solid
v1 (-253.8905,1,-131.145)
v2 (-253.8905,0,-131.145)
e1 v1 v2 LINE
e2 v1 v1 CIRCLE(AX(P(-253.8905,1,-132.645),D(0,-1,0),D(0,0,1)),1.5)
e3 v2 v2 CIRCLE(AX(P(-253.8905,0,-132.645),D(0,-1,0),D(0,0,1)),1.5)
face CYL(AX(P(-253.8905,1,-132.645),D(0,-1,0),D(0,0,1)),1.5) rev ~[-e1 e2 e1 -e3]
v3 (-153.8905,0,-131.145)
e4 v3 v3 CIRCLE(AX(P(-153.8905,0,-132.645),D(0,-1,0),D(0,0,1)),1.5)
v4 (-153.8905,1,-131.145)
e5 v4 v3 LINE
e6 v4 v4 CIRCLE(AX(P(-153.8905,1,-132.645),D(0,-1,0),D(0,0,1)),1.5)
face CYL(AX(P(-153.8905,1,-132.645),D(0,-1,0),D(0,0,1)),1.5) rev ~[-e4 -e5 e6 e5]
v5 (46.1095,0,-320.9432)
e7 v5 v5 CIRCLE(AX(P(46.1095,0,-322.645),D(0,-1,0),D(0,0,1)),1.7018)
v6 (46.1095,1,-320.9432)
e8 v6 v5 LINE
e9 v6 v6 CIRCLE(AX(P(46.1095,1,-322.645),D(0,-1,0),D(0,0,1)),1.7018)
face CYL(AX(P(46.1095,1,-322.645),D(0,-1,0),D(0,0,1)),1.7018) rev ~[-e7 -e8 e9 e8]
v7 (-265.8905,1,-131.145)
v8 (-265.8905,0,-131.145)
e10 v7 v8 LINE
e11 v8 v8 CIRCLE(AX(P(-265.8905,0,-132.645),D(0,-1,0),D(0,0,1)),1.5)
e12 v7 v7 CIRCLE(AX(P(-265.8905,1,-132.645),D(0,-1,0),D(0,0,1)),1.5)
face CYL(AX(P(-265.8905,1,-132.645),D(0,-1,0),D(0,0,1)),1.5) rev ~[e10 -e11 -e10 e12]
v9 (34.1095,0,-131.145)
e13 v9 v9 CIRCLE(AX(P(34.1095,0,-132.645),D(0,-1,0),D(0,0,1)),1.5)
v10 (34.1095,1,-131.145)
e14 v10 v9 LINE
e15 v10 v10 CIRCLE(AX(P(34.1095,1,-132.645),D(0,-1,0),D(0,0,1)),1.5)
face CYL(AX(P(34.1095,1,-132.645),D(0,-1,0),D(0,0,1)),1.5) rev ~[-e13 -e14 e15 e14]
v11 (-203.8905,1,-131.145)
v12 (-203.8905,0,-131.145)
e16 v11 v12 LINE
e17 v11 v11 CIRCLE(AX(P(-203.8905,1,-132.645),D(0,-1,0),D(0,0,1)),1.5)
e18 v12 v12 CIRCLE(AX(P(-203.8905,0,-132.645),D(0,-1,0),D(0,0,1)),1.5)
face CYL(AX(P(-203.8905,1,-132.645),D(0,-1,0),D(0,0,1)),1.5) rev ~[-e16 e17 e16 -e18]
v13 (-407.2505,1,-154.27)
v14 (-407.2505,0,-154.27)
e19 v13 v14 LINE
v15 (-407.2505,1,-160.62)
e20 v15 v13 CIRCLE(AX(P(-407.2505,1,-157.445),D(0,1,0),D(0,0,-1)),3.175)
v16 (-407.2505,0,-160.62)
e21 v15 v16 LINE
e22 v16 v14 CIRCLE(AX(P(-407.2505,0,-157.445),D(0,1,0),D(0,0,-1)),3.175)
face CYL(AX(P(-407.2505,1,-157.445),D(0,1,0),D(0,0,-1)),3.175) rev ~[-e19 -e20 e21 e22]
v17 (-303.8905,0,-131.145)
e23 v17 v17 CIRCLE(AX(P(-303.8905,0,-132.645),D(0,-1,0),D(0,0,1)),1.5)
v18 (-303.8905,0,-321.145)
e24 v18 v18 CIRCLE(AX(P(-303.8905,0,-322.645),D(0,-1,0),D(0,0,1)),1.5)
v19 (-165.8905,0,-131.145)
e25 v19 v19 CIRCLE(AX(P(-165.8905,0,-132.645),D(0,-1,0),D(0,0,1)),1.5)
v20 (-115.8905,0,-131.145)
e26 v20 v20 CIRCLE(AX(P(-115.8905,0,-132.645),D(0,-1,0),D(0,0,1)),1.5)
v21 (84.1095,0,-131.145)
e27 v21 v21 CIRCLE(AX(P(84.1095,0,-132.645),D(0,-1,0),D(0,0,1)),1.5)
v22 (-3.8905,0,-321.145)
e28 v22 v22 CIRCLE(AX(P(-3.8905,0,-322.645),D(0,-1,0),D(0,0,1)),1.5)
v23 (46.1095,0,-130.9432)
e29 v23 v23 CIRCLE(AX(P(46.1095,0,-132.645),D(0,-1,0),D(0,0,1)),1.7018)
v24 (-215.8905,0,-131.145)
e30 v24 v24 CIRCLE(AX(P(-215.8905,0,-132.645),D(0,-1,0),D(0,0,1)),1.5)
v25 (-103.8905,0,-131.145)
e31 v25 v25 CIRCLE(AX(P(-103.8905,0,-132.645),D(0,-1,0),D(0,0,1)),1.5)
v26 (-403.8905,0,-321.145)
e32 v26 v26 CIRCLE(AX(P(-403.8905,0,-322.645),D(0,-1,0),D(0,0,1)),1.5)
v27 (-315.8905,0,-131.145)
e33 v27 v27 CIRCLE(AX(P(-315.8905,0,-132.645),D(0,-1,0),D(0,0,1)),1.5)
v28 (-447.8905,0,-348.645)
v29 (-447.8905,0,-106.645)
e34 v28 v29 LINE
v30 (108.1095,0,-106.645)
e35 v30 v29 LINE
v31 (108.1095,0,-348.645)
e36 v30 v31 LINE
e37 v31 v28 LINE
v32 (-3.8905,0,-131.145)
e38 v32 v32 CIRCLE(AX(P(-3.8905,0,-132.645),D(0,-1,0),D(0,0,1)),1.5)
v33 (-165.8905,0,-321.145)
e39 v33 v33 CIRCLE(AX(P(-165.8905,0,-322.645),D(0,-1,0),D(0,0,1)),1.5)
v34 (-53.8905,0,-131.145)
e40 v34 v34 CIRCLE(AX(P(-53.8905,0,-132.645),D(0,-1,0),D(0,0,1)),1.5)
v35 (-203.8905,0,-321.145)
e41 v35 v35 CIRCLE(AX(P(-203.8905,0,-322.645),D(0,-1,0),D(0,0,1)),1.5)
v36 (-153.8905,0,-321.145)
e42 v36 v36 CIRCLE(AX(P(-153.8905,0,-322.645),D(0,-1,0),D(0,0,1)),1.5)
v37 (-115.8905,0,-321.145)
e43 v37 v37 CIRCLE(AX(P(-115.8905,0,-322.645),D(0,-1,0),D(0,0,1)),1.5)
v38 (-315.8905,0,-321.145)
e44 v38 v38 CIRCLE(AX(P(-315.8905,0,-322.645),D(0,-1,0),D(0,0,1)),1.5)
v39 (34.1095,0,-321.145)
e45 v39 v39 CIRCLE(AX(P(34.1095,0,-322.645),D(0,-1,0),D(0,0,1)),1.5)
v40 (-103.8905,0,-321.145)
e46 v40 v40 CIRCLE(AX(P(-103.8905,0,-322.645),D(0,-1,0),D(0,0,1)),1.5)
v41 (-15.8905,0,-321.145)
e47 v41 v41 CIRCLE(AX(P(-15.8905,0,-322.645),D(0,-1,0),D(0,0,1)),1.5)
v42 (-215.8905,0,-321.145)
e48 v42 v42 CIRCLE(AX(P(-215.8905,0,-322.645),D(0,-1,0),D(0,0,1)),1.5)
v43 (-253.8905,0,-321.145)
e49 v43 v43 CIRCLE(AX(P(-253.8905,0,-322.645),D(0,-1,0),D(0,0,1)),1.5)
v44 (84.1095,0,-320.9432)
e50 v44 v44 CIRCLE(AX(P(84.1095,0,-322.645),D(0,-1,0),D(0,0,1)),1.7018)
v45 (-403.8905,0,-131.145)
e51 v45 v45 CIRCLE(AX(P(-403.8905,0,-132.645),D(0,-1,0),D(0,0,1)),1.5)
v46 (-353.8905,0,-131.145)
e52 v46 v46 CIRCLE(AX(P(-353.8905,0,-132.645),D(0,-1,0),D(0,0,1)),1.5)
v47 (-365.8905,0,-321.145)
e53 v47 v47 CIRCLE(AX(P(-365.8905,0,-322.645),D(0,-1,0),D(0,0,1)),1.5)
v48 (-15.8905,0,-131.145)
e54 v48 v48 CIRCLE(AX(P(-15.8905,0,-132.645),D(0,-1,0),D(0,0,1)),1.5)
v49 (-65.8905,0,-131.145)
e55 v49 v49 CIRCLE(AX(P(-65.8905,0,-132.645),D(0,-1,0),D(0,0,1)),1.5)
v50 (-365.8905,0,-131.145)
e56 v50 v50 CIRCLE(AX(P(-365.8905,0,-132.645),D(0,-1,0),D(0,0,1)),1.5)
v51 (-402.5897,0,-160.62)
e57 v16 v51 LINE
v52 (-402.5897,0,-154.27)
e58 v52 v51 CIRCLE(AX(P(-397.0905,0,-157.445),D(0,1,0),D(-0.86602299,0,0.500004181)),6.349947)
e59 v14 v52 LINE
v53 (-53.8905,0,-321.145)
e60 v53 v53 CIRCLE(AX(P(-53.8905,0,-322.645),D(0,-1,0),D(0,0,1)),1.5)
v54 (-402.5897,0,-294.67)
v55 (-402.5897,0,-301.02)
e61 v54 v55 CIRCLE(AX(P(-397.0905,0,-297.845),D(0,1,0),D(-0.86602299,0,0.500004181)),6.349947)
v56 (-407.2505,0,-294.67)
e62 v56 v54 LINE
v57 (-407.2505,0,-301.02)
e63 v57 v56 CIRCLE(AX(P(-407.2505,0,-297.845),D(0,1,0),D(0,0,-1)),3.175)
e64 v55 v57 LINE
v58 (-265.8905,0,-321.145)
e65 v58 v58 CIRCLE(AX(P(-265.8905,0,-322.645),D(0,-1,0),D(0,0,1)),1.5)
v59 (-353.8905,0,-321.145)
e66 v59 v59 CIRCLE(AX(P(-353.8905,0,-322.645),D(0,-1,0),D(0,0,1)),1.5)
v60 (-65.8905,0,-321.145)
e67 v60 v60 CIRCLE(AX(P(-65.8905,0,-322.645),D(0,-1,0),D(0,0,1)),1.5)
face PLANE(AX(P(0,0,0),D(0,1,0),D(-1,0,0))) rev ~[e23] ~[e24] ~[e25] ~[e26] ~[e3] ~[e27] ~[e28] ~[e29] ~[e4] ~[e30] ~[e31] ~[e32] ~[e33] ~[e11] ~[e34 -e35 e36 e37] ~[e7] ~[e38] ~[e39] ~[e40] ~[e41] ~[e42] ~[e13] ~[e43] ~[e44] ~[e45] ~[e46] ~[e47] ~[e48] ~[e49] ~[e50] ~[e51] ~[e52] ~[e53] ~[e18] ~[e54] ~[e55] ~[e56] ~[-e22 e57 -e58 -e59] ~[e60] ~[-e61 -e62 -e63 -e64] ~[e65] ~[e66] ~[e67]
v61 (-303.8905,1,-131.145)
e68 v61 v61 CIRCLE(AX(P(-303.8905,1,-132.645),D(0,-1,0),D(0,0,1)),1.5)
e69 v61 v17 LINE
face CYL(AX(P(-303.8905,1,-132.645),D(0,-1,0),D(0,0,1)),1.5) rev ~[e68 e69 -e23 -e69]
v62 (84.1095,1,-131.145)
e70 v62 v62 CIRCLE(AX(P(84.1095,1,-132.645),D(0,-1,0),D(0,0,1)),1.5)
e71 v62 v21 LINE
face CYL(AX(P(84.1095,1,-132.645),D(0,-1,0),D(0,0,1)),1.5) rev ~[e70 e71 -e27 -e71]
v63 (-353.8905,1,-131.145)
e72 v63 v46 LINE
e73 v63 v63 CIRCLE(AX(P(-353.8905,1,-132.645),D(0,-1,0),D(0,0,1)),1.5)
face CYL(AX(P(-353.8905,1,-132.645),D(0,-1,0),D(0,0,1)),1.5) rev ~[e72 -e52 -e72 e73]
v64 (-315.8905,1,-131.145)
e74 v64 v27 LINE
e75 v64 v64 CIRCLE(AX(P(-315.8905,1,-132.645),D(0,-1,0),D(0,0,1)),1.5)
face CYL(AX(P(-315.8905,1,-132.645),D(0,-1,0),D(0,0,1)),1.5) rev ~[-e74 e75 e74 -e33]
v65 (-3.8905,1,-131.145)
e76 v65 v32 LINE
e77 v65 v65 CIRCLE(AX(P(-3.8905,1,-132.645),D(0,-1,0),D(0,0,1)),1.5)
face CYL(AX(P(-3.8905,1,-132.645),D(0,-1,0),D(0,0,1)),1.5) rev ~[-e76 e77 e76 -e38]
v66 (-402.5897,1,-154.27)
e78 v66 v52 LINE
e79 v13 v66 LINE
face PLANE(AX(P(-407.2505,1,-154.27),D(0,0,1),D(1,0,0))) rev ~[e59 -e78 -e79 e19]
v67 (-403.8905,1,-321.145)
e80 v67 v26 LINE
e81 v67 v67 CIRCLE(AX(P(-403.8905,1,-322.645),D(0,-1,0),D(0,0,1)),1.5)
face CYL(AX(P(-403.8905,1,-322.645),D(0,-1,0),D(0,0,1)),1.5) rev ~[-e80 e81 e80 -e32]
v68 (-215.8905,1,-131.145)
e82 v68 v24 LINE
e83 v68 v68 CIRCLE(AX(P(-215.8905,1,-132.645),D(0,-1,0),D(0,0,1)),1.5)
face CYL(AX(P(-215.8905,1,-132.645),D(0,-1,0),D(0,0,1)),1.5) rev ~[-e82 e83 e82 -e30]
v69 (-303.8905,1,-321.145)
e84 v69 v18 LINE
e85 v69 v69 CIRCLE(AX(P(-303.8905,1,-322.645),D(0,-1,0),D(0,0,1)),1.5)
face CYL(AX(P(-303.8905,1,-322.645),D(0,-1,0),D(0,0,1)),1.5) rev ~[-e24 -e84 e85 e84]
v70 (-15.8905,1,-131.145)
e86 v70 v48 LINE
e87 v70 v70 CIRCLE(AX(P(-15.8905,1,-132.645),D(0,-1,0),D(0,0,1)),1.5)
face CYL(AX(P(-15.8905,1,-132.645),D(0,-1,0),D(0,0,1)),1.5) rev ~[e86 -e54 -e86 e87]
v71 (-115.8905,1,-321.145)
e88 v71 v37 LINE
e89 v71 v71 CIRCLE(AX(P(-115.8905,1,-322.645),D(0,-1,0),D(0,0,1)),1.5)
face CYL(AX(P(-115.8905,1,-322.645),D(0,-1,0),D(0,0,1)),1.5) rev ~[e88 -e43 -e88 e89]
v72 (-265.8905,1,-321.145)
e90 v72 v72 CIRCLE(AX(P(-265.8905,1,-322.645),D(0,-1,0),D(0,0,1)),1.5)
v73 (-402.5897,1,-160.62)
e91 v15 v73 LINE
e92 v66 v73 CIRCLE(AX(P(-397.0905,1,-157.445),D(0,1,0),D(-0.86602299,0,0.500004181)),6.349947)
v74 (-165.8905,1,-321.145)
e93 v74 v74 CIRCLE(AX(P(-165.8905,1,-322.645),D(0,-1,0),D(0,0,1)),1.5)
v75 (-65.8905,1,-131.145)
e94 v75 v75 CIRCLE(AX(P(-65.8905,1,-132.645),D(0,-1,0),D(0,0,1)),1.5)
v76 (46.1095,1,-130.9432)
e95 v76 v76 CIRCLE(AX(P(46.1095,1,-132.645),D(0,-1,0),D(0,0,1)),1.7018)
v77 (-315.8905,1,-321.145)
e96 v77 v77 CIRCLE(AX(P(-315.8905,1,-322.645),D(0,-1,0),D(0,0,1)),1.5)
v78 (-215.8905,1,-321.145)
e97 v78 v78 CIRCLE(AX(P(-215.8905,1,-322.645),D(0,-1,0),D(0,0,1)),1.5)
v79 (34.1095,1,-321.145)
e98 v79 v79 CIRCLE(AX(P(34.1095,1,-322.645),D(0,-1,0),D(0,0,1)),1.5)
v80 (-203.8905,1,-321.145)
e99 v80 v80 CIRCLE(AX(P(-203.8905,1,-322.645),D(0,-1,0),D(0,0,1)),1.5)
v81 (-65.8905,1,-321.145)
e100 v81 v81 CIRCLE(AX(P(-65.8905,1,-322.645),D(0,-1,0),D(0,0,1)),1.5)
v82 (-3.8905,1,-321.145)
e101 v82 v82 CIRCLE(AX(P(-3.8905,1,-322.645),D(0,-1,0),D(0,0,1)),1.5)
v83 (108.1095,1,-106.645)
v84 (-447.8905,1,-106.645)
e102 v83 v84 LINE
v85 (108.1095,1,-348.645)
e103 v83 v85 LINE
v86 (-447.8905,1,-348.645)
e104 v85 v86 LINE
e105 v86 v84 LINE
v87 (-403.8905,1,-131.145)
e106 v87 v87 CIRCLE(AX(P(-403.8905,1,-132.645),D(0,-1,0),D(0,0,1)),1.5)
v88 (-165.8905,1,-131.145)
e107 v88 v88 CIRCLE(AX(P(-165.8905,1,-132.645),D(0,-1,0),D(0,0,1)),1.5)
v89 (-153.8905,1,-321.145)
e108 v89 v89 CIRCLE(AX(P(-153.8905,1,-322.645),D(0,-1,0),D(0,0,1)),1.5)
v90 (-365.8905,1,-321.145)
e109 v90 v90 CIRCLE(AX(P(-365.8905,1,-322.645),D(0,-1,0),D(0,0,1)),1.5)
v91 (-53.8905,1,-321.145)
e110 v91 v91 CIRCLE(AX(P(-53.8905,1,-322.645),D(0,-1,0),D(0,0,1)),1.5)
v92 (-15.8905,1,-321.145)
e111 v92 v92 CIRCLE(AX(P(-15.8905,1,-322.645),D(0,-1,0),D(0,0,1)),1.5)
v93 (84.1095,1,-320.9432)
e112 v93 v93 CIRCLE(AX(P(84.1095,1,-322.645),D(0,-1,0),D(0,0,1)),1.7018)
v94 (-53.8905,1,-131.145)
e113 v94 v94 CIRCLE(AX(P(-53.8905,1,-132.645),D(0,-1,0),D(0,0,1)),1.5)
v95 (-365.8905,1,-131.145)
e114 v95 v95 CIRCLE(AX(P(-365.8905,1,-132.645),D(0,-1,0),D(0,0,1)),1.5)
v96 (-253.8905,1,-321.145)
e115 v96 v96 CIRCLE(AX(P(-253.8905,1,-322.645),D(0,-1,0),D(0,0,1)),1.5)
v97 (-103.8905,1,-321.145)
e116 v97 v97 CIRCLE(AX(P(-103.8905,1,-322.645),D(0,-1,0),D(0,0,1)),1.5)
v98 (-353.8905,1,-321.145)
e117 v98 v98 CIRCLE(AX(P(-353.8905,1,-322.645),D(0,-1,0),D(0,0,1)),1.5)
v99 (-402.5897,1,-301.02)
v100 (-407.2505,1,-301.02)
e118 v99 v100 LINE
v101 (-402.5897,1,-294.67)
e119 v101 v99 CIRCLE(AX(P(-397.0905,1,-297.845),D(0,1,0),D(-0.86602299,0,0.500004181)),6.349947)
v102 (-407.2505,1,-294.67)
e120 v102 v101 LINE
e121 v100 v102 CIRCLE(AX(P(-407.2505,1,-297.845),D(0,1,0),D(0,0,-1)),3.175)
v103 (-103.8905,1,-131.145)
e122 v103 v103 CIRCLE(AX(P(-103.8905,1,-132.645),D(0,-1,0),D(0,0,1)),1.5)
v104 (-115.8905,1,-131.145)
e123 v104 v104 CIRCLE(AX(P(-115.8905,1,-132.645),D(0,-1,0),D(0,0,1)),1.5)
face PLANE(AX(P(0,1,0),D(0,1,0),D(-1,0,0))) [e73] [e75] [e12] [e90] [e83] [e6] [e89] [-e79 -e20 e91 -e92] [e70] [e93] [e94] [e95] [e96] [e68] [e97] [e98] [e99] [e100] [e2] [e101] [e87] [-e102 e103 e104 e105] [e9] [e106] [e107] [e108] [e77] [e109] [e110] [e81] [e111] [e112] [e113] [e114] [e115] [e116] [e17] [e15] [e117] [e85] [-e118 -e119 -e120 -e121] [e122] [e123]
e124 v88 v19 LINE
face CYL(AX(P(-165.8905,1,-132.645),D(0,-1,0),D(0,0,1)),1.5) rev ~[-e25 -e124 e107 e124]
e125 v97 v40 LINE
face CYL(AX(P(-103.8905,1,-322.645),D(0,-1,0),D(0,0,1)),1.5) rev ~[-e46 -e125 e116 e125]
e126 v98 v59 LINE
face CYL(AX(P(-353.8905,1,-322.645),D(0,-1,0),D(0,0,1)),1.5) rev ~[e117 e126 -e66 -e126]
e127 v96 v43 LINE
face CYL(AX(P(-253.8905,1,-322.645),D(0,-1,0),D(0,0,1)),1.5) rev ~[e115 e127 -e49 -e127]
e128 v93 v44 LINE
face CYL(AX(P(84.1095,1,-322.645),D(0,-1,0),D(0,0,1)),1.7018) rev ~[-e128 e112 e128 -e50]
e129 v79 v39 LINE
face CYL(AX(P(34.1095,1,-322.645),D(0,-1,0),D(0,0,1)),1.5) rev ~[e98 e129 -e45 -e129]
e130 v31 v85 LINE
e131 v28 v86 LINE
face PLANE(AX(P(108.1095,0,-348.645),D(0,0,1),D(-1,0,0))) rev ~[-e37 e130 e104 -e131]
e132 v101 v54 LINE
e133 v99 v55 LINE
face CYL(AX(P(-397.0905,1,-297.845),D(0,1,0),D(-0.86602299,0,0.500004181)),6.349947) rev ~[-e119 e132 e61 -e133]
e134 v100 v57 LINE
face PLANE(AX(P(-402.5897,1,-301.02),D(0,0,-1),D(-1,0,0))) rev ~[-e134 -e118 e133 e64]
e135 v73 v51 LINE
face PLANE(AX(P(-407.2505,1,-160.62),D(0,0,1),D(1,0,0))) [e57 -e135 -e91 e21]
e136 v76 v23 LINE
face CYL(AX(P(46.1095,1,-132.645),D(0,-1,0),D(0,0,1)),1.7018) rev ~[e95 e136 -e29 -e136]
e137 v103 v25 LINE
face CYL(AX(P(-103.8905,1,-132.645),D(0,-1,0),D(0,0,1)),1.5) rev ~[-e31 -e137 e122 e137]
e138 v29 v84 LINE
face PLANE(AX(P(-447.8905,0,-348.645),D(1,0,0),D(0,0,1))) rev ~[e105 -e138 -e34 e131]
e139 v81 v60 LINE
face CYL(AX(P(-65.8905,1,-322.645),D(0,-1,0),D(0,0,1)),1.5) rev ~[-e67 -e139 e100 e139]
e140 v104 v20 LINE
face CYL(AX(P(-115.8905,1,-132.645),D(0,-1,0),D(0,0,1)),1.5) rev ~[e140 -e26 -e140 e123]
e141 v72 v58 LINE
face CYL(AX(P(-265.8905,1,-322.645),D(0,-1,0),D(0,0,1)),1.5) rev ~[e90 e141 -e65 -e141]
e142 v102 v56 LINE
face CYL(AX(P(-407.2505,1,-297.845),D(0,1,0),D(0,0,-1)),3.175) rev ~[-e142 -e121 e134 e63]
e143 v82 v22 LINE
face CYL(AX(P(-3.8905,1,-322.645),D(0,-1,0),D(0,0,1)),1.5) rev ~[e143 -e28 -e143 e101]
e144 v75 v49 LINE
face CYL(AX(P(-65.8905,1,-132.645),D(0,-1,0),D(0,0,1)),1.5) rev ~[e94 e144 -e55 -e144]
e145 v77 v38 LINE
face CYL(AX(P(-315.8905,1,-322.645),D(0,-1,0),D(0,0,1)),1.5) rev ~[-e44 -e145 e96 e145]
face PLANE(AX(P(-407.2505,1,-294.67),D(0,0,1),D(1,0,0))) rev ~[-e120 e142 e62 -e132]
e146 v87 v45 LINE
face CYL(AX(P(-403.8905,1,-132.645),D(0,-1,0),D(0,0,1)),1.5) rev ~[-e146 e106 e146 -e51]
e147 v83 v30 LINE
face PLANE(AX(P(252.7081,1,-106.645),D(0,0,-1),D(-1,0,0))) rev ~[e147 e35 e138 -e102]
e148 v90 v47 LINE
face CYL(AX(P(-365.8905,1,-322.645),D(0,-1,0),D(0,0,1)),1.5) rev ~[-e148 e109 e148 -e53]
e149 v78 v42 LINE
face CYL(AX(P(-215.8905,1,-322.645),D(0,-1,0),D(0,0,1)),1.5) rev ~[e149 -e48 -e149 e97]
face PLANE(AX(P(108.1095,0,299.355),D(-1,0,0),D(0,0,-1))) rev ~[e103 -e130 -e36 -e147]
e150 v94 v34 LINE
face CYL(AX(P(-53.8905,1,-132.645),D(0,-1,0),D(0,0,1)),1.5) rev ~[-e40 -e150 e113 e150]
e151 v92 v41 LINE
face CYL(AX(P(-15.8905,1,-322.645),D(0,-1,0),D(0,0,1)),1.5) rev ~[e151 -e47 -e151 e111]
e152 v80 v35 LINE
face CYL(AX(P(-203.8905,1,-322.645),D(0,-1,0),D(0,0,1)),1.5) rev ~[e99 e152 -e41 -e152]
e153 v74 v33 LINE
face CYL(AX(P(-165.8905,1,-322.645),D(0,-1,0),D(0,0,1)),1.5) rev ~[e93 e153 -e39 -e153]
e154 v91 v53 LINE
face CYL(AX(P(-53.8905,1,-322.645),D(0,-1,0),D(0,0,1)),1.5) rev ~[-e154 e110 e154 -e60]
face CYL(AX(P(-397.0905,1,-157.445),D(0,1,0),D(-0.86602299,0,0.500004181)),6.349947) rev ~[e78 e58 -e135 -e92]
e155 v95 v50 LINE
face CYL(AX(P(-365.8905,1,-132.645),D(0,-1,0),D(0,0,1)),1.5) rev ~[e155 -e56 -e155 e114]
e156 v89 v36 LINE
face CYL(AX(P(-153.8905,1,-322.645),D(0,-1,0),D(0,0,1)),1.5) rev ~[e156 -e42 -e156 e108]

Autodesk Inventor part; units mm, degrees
ref_plane "YZ Plane" through (0, 0, 0) normal (1, 0, 0) x (0, 1, 0)
ref_plane "XZ Plane" through (0, 0, 0) normal (0, 1, 0) x (-1, 0, 0)
ref_plane "XY Plane" through (0, 0, 0) normal (0, 0, 1) x (1, 0, 0)
sketch "Sketch3" plane through (0, 0, 0) normal (0, 1, 0) x (-1, 0, 0)
  line L0 (447.8905, 299.355) -> (-108.1095, 299.355)
  line L1 (-108.1095, 299.355) -> (-108.1095, -348.645)
  line L2 (-108.1095, -348.645) -> (447.8905, -348.645)
  line L3 (447.8905, -348.645) -> (447.8905, 299.355)
  point P0 (0, 0)
  dimension "d19" = 648
  dimension "d20" = 556
extrude "Extrusion2" add sketch "Sketch3" along normal blind 1
sketch "Sketch4" plane through (0, 1, 0) normal (0, 1, 0) x (1, 0, 0)
  line L0 (108.1095, 348.645) -> (-447.8905, 348.645) projected
  line L1 (108.1095, -299.355) -> (108.1095, 348.645) projected
  point P0 (84.1095, 132.645)
  point P1 (34.1095, 322.645)
  point P2 (-3.8905, 322.645)
  point P3 (-3.8905, 132.645)
  point P4 (34.1095, 132.645)
  point P5 (-15.8905, 322.645)
  point P6 (-53.8905, 322.645)
  point P7 (-53.8905, 132.645)
  point P8 (-15.8905, 132.645)
  point P9 (-65.8905, 132.645)
  point P10 (-103.8905, 132.645)
  point P11 (-103.8905, 322.645)
  point P12 (-65.8905, 322.645)
  point P13 (-115.8905, 322.645)
  point P14 (-153.8905, 322.645)
  point P15 (-153.8905, 132.645)
  point P16 (-115.8905, 132.645)
  point P17 (-165.8905, 132.645)
  point P18 (-203.8905, 132.645)
  point P19 (-203.8905, 322.645)
  point P20 (-165.8905, 322.645)
  point P21 (-265.8905, 322.645)
  point P22 (-303.8905, 322.645)
  point P23 (-303.8905, 132.645)
  point P24 (-265.8905, 132.645)
  point P25 (-215.8905, 132.645)
  point P26 (-253.8905, 132.645)
  point P27 (-253.8905, 322.645)
  point P28 (-215.8905, 322.645)
  point P29 (-315.8905, 322.645)
  point P30 (-353.8905, 322.645)
  point P31 (-353.8905, 132.645)
  point P32 (-315.8905, 132.645)
  point P33 (-365.8905, 132.645)
  point P34 (-403.8905, 132.645)
  point P35 (-403.8905, 322.645)
  point P36 (-365.8905, 322.645)
  dimension "d60" = 0
  dimension "d61" = 0
  dimension "d62" = 0
  dimension "d63" = 0
  dimension "d64" = 190
  dimension "d65" = 38
  dimension "d91" = 0
  dimension "d92" = 0
  dimension "d93" = 0
  dimension "d94" = 0
  dimension "d95" = 190
  dimension "d96" = 38
  dimension "d113" = 0
  dimension "d114" = 0
  dimension "d115" = 0
  dimension "d116" = 0
  dimension "d117" = 190
  dimension "d118" = 38
  dimension "d153" = 0
  dimension "d154" = 0
  dimension "d155" = 0
  dimension "d156" = 0
  dimension "d157" = 190
  dimension "d158" = 38
  dimension "d175" = 0
  dimension "d176" = 0
  dimension "d177" = 0
  dimension "d178" = 0
  dimension "d179" = 190
  dimension "d180" = 38
  dimension "d199" = 0
  dimension "d200" = 0
  dimension "d201" = 0
  dimension "d202" = 0
  dimension "d203" = 190
  dimension "d204" = 38
  dimension "d221" = 0
  dimension "d222" = 0
  dimension "d223" = 0
  dimension "d224" = 0
  dimension "d225" = 190
  dimension "d226" = 38
  dimension "d275" = 0
  dimension "d276" = 0
  dimension "d277" = 0
  dimension "d278" = 0
  dimension "d279" = 190
  dimension "d280" = 38
  dimension "d297" = 0
  dimension "d298" = 0
  dimension "d299" = 0
  dimension "d300" = 0
  dimension "d301" = 190
  dimension "d302" = 38
hole "Hole3" at (84.1095, 1, -132.645) at (34.1095, 1, -132.645) at (-3.8905, 1, -132.645) at (-3.8905, 1, -322.645) at (34.1095, 1, -322.645) at (-65.8905, 1, -322.645) at (-103.8905, 1, -322.645) at (-103.8905, 1, -132.645) at (-65.8905, 1, -132.645) at (-15.8905, 1, -132.645) at (-53.8905, 1, -132.645) at (-53.8905, 1, -322.645) at (-15.8905, 1, -322.645) at (-215.8905, 1, -322.645) at (-253.8905, 1, -322.645) at (-253.8905, 1, -132.645) at (-215.8905, 1, -132.645) at (-265.8905, 1, -132.645) at (-303.8905, 1, -132.645) at (-303.8905, 1, -322.645) at (-265.8905, 1, -322.645) at (-165.8905, 1, -322.645) at (-203.8905, 1, -322.645) at (-203.8905, 1, -132.645) at (-165.8905, 1, -132.645) at (-115.8905, 1, -132.645) at (-153.8905, 1, -132.645) at (-153.8905, 1, -322.645) at (-115.8905, 1, -322.645) at (-365.8905, 1, -322.645) at (-403.8905, 1, -322.645) at (-403.8905, 1, -132.645) at (-365.8905, 1, -132.645) at (-315.8905, 1, -132.645) at (-353.8905, 1, -132.645) at (-353.8905, 1, -322.645) at (-315.8905, 1, -322.645) direction (0, -1, 0) diameter 3 depth 25.4 tip angle 118.188
sketch "Sketch6" plane through (0, 1, 0) normal (0, 1, 0) x (1, 0, 0)
  line L0 (-601.02, -516.5897) -> (252.7081, -516.5897)
  line L1 (252.7081, -516.5897) -> (252.7081, 106.645)
  line L2 (252.7081, 106.645) -> (-601.02, 106.645)
  line L3 (-601.02, 106.645) -> (-601.02, -516.5897)
  circle A0 centre (84.1095, 132.645) radius 1.5 projected
  point P0 (0, 0)
  dimension "d408" = 26
extrude "Extrusion3" cut sketch "Sketch6" against normal blind 25.4 contours L3 L2 L1 L0
sketch "Sketch7" plane through (0, 1, 0) normal (0, 1, 0) x (1, 0, 0)
  arc A0 (-402.5897, 154.27) -> (-402.5897, 160.62) centre (-397.0905, 157.445) ccw
  arc A1 (-402.5897, 294.67) -> (-402.5897, 301.02) centre (-397.0905, 297.845) ccw
  line L0 (108.1095, 348.645) -> (-447.8905, 348.645) projected
  line L1 (-447.8905, 348.645) -> (-447.8905, 106.645) projected
  line L2 (-447.8905, 106.645) -> (108.1095, 106.645) projected
  arc A2 (-407.2505, 160.62) -> (-407.2505, 154.27) centre (-407.2505, 157.445) ccw
  line L3 (-407.2505, 154.27) -> (-402.5897, 154.27)
  line L4 (-407.2505, 160.62) -> (-402.5897, 160.62)
  arc A3 (-407.2505, 301.02) -> (-407.2505, 294.67) centre (-407.2505, 297.845) ccw
  line L5 (-407.2505, 294.67) -> (-402.5897, 294.67)
  line L6 (-402.5897, 301.02) -> (-407.2505, 301.02)
  point P0 (0, 0)
  dimension "d411" = 12.7
  dimension "d412" = 50.8
  dimension "d413" = 50.8
  dimension "d414" = 50.8
  dimension "d415" = 50.8
  dimension "d416" = 12.7
  dimension "d417" = 6.35
  dimension "d418" = 0
  dimension "d419" = 10.16
  dimension "d420" = 6.35
  dimension "d421" = 0
  dimension "d422" = 10.16
extrude "Extrusion4" cut sketch "Sketch7" against normal blind 25.4
sketch "Sketch8" plane through (0, 1, 0) normal (0, 1, 0) x (1, 0, 0)
  circle A0 centre (34.1095, 132.645) radius 1.5 projected
  circle A1 centre (84.1095, 132.645) radius 1.5 projected
  circle A2 centre (34.1095, 322.645) radius 1.5 projected
  point P0 (0, 0)
  point P1 (46.1095, 132.645)
  point P2 (46.1095, 322.645)
  point P3 (84.1095, 322.645)
  dimension "d425" = 0
  dimension "d426" = 12
  dimension "d427" = 0
  dimension "d428" = 12
  dimension "d429" = 0
  dimension "d430" = 0
hole "Hole4" at (46.1095, 1, -132.645) at (46.1095, 1, -322.645) at (84.1095, 1, -322.645) direction (0, -1, 0) diameter 3.4036 end through all clearance for "Flat Head Machine Screw" size "M3" standard "Ansi Metric M Profile"
equation "\"d19\" = BaseLength"
equation "\"d20\" = BaseWidth"
equation "\"d21\" = BoardHeight"
equation "\"d64\" = d82"
equation "\"d65\" = d83"
equation "\"d95\" = d137"
equation "\"d96\" = d138"
equation "\"d117\" = d144"
equation "\"d118\" = d145"
equation "\"d157\" = d247"
equation "\"d158\" = d248"
equation "\"d179\" = d254"
equation "\"d180\" = d255"
equation "\"d203\" = d261"
equation "\"d204\" = d262"
equation "\"d225\" = d268"
equation "\"d226\" = d269"
equation "\"d279\" = d369"
equation "\"d280\" = d370"
equation "\"d301\" = d376"
equation "\"d302\" = d377"
equation "\"d401\" = ScrewSize"
equation "\"BoardWidth\" = 48"
equation "\"ScrewSize\" = 3"
equation "\"ScrewHoleOffset\" = 4"
equation "\"BoardGap\" = 4"
equation "\"BoardHeight\" = 1"
equation "\"BaseWidth\" = 556"
equation "\"VertOffsetBetweenScrews\" = 192"
equation "\"BaseLength\" = 648"
equation "\"d47\" = 38"
equation "\"d55\" = 38"
equation "\"d82\" = 190"
equation "\"d83\" = 38"
equation "\"d85\" = 38"
equation "\"d87\" = 38"
equation "\"d88\" = 4"
equation "\"d137\" = 190"
equation "\"d138\" = 38"
equation "\"d140\" = 38"
equation "\"d142\" = 38"
equation "\"d143\" = 4"
equation "\"d144\" = 190"
equation "\"d145\" = 38"
equation "\"d147\" = 38"
equation "\"d149\" = 38"
equation "\"d150\" = 4"
equation "\"d247\" = 190"
equation "\"d248\" = 38"
equation "\"d250\" = 38"
equation "\"d252\" = 38"
equation "\"d253\" = 4"
equation "\"d254\" = 190"
equation "\"d255\" = 38"
equation "\"d257\" = 38"
equation "\"d259\" = 38"
equation "\"d260\" = 4"
equation "\"d261\" = 190"
equation "\"d262\" = 38"
equation "\"d264\" = 38"
equation "\"d266\" = 38"
equation "\"d267\" = 4"
equation "\"d268\" = 190"
equation "\"d269\" = 38"
equation "\"d271\" = 38"
equation "\"d273\" = 38"
equation "\"d274\" = 4"
equation "\"d369\" = 190"
equation "\"d370\" = 38"
equation "\"d372\" = 38"
equation "\"d374\" = 38"
equation "\"d375\" = 4"
equation "\"d376\" = 190"
equation "\"d377\" = 38"
equation "\"d379\" = 38"
equation "\"d381\" = 38"
equation "\"d382\" = 4"
equation "\"d384\" = 38"
equation "\"d386\" = 38"
equation "\"d388\" = 38"
equation "\"d389\" = 4"
equation "\"d391\" = 38"
equation "\"d393\" = 38"
equation "\"d395\" = 38"
equation "\"d396\" = 4"
properties part number "PRT1001-215 Base"
